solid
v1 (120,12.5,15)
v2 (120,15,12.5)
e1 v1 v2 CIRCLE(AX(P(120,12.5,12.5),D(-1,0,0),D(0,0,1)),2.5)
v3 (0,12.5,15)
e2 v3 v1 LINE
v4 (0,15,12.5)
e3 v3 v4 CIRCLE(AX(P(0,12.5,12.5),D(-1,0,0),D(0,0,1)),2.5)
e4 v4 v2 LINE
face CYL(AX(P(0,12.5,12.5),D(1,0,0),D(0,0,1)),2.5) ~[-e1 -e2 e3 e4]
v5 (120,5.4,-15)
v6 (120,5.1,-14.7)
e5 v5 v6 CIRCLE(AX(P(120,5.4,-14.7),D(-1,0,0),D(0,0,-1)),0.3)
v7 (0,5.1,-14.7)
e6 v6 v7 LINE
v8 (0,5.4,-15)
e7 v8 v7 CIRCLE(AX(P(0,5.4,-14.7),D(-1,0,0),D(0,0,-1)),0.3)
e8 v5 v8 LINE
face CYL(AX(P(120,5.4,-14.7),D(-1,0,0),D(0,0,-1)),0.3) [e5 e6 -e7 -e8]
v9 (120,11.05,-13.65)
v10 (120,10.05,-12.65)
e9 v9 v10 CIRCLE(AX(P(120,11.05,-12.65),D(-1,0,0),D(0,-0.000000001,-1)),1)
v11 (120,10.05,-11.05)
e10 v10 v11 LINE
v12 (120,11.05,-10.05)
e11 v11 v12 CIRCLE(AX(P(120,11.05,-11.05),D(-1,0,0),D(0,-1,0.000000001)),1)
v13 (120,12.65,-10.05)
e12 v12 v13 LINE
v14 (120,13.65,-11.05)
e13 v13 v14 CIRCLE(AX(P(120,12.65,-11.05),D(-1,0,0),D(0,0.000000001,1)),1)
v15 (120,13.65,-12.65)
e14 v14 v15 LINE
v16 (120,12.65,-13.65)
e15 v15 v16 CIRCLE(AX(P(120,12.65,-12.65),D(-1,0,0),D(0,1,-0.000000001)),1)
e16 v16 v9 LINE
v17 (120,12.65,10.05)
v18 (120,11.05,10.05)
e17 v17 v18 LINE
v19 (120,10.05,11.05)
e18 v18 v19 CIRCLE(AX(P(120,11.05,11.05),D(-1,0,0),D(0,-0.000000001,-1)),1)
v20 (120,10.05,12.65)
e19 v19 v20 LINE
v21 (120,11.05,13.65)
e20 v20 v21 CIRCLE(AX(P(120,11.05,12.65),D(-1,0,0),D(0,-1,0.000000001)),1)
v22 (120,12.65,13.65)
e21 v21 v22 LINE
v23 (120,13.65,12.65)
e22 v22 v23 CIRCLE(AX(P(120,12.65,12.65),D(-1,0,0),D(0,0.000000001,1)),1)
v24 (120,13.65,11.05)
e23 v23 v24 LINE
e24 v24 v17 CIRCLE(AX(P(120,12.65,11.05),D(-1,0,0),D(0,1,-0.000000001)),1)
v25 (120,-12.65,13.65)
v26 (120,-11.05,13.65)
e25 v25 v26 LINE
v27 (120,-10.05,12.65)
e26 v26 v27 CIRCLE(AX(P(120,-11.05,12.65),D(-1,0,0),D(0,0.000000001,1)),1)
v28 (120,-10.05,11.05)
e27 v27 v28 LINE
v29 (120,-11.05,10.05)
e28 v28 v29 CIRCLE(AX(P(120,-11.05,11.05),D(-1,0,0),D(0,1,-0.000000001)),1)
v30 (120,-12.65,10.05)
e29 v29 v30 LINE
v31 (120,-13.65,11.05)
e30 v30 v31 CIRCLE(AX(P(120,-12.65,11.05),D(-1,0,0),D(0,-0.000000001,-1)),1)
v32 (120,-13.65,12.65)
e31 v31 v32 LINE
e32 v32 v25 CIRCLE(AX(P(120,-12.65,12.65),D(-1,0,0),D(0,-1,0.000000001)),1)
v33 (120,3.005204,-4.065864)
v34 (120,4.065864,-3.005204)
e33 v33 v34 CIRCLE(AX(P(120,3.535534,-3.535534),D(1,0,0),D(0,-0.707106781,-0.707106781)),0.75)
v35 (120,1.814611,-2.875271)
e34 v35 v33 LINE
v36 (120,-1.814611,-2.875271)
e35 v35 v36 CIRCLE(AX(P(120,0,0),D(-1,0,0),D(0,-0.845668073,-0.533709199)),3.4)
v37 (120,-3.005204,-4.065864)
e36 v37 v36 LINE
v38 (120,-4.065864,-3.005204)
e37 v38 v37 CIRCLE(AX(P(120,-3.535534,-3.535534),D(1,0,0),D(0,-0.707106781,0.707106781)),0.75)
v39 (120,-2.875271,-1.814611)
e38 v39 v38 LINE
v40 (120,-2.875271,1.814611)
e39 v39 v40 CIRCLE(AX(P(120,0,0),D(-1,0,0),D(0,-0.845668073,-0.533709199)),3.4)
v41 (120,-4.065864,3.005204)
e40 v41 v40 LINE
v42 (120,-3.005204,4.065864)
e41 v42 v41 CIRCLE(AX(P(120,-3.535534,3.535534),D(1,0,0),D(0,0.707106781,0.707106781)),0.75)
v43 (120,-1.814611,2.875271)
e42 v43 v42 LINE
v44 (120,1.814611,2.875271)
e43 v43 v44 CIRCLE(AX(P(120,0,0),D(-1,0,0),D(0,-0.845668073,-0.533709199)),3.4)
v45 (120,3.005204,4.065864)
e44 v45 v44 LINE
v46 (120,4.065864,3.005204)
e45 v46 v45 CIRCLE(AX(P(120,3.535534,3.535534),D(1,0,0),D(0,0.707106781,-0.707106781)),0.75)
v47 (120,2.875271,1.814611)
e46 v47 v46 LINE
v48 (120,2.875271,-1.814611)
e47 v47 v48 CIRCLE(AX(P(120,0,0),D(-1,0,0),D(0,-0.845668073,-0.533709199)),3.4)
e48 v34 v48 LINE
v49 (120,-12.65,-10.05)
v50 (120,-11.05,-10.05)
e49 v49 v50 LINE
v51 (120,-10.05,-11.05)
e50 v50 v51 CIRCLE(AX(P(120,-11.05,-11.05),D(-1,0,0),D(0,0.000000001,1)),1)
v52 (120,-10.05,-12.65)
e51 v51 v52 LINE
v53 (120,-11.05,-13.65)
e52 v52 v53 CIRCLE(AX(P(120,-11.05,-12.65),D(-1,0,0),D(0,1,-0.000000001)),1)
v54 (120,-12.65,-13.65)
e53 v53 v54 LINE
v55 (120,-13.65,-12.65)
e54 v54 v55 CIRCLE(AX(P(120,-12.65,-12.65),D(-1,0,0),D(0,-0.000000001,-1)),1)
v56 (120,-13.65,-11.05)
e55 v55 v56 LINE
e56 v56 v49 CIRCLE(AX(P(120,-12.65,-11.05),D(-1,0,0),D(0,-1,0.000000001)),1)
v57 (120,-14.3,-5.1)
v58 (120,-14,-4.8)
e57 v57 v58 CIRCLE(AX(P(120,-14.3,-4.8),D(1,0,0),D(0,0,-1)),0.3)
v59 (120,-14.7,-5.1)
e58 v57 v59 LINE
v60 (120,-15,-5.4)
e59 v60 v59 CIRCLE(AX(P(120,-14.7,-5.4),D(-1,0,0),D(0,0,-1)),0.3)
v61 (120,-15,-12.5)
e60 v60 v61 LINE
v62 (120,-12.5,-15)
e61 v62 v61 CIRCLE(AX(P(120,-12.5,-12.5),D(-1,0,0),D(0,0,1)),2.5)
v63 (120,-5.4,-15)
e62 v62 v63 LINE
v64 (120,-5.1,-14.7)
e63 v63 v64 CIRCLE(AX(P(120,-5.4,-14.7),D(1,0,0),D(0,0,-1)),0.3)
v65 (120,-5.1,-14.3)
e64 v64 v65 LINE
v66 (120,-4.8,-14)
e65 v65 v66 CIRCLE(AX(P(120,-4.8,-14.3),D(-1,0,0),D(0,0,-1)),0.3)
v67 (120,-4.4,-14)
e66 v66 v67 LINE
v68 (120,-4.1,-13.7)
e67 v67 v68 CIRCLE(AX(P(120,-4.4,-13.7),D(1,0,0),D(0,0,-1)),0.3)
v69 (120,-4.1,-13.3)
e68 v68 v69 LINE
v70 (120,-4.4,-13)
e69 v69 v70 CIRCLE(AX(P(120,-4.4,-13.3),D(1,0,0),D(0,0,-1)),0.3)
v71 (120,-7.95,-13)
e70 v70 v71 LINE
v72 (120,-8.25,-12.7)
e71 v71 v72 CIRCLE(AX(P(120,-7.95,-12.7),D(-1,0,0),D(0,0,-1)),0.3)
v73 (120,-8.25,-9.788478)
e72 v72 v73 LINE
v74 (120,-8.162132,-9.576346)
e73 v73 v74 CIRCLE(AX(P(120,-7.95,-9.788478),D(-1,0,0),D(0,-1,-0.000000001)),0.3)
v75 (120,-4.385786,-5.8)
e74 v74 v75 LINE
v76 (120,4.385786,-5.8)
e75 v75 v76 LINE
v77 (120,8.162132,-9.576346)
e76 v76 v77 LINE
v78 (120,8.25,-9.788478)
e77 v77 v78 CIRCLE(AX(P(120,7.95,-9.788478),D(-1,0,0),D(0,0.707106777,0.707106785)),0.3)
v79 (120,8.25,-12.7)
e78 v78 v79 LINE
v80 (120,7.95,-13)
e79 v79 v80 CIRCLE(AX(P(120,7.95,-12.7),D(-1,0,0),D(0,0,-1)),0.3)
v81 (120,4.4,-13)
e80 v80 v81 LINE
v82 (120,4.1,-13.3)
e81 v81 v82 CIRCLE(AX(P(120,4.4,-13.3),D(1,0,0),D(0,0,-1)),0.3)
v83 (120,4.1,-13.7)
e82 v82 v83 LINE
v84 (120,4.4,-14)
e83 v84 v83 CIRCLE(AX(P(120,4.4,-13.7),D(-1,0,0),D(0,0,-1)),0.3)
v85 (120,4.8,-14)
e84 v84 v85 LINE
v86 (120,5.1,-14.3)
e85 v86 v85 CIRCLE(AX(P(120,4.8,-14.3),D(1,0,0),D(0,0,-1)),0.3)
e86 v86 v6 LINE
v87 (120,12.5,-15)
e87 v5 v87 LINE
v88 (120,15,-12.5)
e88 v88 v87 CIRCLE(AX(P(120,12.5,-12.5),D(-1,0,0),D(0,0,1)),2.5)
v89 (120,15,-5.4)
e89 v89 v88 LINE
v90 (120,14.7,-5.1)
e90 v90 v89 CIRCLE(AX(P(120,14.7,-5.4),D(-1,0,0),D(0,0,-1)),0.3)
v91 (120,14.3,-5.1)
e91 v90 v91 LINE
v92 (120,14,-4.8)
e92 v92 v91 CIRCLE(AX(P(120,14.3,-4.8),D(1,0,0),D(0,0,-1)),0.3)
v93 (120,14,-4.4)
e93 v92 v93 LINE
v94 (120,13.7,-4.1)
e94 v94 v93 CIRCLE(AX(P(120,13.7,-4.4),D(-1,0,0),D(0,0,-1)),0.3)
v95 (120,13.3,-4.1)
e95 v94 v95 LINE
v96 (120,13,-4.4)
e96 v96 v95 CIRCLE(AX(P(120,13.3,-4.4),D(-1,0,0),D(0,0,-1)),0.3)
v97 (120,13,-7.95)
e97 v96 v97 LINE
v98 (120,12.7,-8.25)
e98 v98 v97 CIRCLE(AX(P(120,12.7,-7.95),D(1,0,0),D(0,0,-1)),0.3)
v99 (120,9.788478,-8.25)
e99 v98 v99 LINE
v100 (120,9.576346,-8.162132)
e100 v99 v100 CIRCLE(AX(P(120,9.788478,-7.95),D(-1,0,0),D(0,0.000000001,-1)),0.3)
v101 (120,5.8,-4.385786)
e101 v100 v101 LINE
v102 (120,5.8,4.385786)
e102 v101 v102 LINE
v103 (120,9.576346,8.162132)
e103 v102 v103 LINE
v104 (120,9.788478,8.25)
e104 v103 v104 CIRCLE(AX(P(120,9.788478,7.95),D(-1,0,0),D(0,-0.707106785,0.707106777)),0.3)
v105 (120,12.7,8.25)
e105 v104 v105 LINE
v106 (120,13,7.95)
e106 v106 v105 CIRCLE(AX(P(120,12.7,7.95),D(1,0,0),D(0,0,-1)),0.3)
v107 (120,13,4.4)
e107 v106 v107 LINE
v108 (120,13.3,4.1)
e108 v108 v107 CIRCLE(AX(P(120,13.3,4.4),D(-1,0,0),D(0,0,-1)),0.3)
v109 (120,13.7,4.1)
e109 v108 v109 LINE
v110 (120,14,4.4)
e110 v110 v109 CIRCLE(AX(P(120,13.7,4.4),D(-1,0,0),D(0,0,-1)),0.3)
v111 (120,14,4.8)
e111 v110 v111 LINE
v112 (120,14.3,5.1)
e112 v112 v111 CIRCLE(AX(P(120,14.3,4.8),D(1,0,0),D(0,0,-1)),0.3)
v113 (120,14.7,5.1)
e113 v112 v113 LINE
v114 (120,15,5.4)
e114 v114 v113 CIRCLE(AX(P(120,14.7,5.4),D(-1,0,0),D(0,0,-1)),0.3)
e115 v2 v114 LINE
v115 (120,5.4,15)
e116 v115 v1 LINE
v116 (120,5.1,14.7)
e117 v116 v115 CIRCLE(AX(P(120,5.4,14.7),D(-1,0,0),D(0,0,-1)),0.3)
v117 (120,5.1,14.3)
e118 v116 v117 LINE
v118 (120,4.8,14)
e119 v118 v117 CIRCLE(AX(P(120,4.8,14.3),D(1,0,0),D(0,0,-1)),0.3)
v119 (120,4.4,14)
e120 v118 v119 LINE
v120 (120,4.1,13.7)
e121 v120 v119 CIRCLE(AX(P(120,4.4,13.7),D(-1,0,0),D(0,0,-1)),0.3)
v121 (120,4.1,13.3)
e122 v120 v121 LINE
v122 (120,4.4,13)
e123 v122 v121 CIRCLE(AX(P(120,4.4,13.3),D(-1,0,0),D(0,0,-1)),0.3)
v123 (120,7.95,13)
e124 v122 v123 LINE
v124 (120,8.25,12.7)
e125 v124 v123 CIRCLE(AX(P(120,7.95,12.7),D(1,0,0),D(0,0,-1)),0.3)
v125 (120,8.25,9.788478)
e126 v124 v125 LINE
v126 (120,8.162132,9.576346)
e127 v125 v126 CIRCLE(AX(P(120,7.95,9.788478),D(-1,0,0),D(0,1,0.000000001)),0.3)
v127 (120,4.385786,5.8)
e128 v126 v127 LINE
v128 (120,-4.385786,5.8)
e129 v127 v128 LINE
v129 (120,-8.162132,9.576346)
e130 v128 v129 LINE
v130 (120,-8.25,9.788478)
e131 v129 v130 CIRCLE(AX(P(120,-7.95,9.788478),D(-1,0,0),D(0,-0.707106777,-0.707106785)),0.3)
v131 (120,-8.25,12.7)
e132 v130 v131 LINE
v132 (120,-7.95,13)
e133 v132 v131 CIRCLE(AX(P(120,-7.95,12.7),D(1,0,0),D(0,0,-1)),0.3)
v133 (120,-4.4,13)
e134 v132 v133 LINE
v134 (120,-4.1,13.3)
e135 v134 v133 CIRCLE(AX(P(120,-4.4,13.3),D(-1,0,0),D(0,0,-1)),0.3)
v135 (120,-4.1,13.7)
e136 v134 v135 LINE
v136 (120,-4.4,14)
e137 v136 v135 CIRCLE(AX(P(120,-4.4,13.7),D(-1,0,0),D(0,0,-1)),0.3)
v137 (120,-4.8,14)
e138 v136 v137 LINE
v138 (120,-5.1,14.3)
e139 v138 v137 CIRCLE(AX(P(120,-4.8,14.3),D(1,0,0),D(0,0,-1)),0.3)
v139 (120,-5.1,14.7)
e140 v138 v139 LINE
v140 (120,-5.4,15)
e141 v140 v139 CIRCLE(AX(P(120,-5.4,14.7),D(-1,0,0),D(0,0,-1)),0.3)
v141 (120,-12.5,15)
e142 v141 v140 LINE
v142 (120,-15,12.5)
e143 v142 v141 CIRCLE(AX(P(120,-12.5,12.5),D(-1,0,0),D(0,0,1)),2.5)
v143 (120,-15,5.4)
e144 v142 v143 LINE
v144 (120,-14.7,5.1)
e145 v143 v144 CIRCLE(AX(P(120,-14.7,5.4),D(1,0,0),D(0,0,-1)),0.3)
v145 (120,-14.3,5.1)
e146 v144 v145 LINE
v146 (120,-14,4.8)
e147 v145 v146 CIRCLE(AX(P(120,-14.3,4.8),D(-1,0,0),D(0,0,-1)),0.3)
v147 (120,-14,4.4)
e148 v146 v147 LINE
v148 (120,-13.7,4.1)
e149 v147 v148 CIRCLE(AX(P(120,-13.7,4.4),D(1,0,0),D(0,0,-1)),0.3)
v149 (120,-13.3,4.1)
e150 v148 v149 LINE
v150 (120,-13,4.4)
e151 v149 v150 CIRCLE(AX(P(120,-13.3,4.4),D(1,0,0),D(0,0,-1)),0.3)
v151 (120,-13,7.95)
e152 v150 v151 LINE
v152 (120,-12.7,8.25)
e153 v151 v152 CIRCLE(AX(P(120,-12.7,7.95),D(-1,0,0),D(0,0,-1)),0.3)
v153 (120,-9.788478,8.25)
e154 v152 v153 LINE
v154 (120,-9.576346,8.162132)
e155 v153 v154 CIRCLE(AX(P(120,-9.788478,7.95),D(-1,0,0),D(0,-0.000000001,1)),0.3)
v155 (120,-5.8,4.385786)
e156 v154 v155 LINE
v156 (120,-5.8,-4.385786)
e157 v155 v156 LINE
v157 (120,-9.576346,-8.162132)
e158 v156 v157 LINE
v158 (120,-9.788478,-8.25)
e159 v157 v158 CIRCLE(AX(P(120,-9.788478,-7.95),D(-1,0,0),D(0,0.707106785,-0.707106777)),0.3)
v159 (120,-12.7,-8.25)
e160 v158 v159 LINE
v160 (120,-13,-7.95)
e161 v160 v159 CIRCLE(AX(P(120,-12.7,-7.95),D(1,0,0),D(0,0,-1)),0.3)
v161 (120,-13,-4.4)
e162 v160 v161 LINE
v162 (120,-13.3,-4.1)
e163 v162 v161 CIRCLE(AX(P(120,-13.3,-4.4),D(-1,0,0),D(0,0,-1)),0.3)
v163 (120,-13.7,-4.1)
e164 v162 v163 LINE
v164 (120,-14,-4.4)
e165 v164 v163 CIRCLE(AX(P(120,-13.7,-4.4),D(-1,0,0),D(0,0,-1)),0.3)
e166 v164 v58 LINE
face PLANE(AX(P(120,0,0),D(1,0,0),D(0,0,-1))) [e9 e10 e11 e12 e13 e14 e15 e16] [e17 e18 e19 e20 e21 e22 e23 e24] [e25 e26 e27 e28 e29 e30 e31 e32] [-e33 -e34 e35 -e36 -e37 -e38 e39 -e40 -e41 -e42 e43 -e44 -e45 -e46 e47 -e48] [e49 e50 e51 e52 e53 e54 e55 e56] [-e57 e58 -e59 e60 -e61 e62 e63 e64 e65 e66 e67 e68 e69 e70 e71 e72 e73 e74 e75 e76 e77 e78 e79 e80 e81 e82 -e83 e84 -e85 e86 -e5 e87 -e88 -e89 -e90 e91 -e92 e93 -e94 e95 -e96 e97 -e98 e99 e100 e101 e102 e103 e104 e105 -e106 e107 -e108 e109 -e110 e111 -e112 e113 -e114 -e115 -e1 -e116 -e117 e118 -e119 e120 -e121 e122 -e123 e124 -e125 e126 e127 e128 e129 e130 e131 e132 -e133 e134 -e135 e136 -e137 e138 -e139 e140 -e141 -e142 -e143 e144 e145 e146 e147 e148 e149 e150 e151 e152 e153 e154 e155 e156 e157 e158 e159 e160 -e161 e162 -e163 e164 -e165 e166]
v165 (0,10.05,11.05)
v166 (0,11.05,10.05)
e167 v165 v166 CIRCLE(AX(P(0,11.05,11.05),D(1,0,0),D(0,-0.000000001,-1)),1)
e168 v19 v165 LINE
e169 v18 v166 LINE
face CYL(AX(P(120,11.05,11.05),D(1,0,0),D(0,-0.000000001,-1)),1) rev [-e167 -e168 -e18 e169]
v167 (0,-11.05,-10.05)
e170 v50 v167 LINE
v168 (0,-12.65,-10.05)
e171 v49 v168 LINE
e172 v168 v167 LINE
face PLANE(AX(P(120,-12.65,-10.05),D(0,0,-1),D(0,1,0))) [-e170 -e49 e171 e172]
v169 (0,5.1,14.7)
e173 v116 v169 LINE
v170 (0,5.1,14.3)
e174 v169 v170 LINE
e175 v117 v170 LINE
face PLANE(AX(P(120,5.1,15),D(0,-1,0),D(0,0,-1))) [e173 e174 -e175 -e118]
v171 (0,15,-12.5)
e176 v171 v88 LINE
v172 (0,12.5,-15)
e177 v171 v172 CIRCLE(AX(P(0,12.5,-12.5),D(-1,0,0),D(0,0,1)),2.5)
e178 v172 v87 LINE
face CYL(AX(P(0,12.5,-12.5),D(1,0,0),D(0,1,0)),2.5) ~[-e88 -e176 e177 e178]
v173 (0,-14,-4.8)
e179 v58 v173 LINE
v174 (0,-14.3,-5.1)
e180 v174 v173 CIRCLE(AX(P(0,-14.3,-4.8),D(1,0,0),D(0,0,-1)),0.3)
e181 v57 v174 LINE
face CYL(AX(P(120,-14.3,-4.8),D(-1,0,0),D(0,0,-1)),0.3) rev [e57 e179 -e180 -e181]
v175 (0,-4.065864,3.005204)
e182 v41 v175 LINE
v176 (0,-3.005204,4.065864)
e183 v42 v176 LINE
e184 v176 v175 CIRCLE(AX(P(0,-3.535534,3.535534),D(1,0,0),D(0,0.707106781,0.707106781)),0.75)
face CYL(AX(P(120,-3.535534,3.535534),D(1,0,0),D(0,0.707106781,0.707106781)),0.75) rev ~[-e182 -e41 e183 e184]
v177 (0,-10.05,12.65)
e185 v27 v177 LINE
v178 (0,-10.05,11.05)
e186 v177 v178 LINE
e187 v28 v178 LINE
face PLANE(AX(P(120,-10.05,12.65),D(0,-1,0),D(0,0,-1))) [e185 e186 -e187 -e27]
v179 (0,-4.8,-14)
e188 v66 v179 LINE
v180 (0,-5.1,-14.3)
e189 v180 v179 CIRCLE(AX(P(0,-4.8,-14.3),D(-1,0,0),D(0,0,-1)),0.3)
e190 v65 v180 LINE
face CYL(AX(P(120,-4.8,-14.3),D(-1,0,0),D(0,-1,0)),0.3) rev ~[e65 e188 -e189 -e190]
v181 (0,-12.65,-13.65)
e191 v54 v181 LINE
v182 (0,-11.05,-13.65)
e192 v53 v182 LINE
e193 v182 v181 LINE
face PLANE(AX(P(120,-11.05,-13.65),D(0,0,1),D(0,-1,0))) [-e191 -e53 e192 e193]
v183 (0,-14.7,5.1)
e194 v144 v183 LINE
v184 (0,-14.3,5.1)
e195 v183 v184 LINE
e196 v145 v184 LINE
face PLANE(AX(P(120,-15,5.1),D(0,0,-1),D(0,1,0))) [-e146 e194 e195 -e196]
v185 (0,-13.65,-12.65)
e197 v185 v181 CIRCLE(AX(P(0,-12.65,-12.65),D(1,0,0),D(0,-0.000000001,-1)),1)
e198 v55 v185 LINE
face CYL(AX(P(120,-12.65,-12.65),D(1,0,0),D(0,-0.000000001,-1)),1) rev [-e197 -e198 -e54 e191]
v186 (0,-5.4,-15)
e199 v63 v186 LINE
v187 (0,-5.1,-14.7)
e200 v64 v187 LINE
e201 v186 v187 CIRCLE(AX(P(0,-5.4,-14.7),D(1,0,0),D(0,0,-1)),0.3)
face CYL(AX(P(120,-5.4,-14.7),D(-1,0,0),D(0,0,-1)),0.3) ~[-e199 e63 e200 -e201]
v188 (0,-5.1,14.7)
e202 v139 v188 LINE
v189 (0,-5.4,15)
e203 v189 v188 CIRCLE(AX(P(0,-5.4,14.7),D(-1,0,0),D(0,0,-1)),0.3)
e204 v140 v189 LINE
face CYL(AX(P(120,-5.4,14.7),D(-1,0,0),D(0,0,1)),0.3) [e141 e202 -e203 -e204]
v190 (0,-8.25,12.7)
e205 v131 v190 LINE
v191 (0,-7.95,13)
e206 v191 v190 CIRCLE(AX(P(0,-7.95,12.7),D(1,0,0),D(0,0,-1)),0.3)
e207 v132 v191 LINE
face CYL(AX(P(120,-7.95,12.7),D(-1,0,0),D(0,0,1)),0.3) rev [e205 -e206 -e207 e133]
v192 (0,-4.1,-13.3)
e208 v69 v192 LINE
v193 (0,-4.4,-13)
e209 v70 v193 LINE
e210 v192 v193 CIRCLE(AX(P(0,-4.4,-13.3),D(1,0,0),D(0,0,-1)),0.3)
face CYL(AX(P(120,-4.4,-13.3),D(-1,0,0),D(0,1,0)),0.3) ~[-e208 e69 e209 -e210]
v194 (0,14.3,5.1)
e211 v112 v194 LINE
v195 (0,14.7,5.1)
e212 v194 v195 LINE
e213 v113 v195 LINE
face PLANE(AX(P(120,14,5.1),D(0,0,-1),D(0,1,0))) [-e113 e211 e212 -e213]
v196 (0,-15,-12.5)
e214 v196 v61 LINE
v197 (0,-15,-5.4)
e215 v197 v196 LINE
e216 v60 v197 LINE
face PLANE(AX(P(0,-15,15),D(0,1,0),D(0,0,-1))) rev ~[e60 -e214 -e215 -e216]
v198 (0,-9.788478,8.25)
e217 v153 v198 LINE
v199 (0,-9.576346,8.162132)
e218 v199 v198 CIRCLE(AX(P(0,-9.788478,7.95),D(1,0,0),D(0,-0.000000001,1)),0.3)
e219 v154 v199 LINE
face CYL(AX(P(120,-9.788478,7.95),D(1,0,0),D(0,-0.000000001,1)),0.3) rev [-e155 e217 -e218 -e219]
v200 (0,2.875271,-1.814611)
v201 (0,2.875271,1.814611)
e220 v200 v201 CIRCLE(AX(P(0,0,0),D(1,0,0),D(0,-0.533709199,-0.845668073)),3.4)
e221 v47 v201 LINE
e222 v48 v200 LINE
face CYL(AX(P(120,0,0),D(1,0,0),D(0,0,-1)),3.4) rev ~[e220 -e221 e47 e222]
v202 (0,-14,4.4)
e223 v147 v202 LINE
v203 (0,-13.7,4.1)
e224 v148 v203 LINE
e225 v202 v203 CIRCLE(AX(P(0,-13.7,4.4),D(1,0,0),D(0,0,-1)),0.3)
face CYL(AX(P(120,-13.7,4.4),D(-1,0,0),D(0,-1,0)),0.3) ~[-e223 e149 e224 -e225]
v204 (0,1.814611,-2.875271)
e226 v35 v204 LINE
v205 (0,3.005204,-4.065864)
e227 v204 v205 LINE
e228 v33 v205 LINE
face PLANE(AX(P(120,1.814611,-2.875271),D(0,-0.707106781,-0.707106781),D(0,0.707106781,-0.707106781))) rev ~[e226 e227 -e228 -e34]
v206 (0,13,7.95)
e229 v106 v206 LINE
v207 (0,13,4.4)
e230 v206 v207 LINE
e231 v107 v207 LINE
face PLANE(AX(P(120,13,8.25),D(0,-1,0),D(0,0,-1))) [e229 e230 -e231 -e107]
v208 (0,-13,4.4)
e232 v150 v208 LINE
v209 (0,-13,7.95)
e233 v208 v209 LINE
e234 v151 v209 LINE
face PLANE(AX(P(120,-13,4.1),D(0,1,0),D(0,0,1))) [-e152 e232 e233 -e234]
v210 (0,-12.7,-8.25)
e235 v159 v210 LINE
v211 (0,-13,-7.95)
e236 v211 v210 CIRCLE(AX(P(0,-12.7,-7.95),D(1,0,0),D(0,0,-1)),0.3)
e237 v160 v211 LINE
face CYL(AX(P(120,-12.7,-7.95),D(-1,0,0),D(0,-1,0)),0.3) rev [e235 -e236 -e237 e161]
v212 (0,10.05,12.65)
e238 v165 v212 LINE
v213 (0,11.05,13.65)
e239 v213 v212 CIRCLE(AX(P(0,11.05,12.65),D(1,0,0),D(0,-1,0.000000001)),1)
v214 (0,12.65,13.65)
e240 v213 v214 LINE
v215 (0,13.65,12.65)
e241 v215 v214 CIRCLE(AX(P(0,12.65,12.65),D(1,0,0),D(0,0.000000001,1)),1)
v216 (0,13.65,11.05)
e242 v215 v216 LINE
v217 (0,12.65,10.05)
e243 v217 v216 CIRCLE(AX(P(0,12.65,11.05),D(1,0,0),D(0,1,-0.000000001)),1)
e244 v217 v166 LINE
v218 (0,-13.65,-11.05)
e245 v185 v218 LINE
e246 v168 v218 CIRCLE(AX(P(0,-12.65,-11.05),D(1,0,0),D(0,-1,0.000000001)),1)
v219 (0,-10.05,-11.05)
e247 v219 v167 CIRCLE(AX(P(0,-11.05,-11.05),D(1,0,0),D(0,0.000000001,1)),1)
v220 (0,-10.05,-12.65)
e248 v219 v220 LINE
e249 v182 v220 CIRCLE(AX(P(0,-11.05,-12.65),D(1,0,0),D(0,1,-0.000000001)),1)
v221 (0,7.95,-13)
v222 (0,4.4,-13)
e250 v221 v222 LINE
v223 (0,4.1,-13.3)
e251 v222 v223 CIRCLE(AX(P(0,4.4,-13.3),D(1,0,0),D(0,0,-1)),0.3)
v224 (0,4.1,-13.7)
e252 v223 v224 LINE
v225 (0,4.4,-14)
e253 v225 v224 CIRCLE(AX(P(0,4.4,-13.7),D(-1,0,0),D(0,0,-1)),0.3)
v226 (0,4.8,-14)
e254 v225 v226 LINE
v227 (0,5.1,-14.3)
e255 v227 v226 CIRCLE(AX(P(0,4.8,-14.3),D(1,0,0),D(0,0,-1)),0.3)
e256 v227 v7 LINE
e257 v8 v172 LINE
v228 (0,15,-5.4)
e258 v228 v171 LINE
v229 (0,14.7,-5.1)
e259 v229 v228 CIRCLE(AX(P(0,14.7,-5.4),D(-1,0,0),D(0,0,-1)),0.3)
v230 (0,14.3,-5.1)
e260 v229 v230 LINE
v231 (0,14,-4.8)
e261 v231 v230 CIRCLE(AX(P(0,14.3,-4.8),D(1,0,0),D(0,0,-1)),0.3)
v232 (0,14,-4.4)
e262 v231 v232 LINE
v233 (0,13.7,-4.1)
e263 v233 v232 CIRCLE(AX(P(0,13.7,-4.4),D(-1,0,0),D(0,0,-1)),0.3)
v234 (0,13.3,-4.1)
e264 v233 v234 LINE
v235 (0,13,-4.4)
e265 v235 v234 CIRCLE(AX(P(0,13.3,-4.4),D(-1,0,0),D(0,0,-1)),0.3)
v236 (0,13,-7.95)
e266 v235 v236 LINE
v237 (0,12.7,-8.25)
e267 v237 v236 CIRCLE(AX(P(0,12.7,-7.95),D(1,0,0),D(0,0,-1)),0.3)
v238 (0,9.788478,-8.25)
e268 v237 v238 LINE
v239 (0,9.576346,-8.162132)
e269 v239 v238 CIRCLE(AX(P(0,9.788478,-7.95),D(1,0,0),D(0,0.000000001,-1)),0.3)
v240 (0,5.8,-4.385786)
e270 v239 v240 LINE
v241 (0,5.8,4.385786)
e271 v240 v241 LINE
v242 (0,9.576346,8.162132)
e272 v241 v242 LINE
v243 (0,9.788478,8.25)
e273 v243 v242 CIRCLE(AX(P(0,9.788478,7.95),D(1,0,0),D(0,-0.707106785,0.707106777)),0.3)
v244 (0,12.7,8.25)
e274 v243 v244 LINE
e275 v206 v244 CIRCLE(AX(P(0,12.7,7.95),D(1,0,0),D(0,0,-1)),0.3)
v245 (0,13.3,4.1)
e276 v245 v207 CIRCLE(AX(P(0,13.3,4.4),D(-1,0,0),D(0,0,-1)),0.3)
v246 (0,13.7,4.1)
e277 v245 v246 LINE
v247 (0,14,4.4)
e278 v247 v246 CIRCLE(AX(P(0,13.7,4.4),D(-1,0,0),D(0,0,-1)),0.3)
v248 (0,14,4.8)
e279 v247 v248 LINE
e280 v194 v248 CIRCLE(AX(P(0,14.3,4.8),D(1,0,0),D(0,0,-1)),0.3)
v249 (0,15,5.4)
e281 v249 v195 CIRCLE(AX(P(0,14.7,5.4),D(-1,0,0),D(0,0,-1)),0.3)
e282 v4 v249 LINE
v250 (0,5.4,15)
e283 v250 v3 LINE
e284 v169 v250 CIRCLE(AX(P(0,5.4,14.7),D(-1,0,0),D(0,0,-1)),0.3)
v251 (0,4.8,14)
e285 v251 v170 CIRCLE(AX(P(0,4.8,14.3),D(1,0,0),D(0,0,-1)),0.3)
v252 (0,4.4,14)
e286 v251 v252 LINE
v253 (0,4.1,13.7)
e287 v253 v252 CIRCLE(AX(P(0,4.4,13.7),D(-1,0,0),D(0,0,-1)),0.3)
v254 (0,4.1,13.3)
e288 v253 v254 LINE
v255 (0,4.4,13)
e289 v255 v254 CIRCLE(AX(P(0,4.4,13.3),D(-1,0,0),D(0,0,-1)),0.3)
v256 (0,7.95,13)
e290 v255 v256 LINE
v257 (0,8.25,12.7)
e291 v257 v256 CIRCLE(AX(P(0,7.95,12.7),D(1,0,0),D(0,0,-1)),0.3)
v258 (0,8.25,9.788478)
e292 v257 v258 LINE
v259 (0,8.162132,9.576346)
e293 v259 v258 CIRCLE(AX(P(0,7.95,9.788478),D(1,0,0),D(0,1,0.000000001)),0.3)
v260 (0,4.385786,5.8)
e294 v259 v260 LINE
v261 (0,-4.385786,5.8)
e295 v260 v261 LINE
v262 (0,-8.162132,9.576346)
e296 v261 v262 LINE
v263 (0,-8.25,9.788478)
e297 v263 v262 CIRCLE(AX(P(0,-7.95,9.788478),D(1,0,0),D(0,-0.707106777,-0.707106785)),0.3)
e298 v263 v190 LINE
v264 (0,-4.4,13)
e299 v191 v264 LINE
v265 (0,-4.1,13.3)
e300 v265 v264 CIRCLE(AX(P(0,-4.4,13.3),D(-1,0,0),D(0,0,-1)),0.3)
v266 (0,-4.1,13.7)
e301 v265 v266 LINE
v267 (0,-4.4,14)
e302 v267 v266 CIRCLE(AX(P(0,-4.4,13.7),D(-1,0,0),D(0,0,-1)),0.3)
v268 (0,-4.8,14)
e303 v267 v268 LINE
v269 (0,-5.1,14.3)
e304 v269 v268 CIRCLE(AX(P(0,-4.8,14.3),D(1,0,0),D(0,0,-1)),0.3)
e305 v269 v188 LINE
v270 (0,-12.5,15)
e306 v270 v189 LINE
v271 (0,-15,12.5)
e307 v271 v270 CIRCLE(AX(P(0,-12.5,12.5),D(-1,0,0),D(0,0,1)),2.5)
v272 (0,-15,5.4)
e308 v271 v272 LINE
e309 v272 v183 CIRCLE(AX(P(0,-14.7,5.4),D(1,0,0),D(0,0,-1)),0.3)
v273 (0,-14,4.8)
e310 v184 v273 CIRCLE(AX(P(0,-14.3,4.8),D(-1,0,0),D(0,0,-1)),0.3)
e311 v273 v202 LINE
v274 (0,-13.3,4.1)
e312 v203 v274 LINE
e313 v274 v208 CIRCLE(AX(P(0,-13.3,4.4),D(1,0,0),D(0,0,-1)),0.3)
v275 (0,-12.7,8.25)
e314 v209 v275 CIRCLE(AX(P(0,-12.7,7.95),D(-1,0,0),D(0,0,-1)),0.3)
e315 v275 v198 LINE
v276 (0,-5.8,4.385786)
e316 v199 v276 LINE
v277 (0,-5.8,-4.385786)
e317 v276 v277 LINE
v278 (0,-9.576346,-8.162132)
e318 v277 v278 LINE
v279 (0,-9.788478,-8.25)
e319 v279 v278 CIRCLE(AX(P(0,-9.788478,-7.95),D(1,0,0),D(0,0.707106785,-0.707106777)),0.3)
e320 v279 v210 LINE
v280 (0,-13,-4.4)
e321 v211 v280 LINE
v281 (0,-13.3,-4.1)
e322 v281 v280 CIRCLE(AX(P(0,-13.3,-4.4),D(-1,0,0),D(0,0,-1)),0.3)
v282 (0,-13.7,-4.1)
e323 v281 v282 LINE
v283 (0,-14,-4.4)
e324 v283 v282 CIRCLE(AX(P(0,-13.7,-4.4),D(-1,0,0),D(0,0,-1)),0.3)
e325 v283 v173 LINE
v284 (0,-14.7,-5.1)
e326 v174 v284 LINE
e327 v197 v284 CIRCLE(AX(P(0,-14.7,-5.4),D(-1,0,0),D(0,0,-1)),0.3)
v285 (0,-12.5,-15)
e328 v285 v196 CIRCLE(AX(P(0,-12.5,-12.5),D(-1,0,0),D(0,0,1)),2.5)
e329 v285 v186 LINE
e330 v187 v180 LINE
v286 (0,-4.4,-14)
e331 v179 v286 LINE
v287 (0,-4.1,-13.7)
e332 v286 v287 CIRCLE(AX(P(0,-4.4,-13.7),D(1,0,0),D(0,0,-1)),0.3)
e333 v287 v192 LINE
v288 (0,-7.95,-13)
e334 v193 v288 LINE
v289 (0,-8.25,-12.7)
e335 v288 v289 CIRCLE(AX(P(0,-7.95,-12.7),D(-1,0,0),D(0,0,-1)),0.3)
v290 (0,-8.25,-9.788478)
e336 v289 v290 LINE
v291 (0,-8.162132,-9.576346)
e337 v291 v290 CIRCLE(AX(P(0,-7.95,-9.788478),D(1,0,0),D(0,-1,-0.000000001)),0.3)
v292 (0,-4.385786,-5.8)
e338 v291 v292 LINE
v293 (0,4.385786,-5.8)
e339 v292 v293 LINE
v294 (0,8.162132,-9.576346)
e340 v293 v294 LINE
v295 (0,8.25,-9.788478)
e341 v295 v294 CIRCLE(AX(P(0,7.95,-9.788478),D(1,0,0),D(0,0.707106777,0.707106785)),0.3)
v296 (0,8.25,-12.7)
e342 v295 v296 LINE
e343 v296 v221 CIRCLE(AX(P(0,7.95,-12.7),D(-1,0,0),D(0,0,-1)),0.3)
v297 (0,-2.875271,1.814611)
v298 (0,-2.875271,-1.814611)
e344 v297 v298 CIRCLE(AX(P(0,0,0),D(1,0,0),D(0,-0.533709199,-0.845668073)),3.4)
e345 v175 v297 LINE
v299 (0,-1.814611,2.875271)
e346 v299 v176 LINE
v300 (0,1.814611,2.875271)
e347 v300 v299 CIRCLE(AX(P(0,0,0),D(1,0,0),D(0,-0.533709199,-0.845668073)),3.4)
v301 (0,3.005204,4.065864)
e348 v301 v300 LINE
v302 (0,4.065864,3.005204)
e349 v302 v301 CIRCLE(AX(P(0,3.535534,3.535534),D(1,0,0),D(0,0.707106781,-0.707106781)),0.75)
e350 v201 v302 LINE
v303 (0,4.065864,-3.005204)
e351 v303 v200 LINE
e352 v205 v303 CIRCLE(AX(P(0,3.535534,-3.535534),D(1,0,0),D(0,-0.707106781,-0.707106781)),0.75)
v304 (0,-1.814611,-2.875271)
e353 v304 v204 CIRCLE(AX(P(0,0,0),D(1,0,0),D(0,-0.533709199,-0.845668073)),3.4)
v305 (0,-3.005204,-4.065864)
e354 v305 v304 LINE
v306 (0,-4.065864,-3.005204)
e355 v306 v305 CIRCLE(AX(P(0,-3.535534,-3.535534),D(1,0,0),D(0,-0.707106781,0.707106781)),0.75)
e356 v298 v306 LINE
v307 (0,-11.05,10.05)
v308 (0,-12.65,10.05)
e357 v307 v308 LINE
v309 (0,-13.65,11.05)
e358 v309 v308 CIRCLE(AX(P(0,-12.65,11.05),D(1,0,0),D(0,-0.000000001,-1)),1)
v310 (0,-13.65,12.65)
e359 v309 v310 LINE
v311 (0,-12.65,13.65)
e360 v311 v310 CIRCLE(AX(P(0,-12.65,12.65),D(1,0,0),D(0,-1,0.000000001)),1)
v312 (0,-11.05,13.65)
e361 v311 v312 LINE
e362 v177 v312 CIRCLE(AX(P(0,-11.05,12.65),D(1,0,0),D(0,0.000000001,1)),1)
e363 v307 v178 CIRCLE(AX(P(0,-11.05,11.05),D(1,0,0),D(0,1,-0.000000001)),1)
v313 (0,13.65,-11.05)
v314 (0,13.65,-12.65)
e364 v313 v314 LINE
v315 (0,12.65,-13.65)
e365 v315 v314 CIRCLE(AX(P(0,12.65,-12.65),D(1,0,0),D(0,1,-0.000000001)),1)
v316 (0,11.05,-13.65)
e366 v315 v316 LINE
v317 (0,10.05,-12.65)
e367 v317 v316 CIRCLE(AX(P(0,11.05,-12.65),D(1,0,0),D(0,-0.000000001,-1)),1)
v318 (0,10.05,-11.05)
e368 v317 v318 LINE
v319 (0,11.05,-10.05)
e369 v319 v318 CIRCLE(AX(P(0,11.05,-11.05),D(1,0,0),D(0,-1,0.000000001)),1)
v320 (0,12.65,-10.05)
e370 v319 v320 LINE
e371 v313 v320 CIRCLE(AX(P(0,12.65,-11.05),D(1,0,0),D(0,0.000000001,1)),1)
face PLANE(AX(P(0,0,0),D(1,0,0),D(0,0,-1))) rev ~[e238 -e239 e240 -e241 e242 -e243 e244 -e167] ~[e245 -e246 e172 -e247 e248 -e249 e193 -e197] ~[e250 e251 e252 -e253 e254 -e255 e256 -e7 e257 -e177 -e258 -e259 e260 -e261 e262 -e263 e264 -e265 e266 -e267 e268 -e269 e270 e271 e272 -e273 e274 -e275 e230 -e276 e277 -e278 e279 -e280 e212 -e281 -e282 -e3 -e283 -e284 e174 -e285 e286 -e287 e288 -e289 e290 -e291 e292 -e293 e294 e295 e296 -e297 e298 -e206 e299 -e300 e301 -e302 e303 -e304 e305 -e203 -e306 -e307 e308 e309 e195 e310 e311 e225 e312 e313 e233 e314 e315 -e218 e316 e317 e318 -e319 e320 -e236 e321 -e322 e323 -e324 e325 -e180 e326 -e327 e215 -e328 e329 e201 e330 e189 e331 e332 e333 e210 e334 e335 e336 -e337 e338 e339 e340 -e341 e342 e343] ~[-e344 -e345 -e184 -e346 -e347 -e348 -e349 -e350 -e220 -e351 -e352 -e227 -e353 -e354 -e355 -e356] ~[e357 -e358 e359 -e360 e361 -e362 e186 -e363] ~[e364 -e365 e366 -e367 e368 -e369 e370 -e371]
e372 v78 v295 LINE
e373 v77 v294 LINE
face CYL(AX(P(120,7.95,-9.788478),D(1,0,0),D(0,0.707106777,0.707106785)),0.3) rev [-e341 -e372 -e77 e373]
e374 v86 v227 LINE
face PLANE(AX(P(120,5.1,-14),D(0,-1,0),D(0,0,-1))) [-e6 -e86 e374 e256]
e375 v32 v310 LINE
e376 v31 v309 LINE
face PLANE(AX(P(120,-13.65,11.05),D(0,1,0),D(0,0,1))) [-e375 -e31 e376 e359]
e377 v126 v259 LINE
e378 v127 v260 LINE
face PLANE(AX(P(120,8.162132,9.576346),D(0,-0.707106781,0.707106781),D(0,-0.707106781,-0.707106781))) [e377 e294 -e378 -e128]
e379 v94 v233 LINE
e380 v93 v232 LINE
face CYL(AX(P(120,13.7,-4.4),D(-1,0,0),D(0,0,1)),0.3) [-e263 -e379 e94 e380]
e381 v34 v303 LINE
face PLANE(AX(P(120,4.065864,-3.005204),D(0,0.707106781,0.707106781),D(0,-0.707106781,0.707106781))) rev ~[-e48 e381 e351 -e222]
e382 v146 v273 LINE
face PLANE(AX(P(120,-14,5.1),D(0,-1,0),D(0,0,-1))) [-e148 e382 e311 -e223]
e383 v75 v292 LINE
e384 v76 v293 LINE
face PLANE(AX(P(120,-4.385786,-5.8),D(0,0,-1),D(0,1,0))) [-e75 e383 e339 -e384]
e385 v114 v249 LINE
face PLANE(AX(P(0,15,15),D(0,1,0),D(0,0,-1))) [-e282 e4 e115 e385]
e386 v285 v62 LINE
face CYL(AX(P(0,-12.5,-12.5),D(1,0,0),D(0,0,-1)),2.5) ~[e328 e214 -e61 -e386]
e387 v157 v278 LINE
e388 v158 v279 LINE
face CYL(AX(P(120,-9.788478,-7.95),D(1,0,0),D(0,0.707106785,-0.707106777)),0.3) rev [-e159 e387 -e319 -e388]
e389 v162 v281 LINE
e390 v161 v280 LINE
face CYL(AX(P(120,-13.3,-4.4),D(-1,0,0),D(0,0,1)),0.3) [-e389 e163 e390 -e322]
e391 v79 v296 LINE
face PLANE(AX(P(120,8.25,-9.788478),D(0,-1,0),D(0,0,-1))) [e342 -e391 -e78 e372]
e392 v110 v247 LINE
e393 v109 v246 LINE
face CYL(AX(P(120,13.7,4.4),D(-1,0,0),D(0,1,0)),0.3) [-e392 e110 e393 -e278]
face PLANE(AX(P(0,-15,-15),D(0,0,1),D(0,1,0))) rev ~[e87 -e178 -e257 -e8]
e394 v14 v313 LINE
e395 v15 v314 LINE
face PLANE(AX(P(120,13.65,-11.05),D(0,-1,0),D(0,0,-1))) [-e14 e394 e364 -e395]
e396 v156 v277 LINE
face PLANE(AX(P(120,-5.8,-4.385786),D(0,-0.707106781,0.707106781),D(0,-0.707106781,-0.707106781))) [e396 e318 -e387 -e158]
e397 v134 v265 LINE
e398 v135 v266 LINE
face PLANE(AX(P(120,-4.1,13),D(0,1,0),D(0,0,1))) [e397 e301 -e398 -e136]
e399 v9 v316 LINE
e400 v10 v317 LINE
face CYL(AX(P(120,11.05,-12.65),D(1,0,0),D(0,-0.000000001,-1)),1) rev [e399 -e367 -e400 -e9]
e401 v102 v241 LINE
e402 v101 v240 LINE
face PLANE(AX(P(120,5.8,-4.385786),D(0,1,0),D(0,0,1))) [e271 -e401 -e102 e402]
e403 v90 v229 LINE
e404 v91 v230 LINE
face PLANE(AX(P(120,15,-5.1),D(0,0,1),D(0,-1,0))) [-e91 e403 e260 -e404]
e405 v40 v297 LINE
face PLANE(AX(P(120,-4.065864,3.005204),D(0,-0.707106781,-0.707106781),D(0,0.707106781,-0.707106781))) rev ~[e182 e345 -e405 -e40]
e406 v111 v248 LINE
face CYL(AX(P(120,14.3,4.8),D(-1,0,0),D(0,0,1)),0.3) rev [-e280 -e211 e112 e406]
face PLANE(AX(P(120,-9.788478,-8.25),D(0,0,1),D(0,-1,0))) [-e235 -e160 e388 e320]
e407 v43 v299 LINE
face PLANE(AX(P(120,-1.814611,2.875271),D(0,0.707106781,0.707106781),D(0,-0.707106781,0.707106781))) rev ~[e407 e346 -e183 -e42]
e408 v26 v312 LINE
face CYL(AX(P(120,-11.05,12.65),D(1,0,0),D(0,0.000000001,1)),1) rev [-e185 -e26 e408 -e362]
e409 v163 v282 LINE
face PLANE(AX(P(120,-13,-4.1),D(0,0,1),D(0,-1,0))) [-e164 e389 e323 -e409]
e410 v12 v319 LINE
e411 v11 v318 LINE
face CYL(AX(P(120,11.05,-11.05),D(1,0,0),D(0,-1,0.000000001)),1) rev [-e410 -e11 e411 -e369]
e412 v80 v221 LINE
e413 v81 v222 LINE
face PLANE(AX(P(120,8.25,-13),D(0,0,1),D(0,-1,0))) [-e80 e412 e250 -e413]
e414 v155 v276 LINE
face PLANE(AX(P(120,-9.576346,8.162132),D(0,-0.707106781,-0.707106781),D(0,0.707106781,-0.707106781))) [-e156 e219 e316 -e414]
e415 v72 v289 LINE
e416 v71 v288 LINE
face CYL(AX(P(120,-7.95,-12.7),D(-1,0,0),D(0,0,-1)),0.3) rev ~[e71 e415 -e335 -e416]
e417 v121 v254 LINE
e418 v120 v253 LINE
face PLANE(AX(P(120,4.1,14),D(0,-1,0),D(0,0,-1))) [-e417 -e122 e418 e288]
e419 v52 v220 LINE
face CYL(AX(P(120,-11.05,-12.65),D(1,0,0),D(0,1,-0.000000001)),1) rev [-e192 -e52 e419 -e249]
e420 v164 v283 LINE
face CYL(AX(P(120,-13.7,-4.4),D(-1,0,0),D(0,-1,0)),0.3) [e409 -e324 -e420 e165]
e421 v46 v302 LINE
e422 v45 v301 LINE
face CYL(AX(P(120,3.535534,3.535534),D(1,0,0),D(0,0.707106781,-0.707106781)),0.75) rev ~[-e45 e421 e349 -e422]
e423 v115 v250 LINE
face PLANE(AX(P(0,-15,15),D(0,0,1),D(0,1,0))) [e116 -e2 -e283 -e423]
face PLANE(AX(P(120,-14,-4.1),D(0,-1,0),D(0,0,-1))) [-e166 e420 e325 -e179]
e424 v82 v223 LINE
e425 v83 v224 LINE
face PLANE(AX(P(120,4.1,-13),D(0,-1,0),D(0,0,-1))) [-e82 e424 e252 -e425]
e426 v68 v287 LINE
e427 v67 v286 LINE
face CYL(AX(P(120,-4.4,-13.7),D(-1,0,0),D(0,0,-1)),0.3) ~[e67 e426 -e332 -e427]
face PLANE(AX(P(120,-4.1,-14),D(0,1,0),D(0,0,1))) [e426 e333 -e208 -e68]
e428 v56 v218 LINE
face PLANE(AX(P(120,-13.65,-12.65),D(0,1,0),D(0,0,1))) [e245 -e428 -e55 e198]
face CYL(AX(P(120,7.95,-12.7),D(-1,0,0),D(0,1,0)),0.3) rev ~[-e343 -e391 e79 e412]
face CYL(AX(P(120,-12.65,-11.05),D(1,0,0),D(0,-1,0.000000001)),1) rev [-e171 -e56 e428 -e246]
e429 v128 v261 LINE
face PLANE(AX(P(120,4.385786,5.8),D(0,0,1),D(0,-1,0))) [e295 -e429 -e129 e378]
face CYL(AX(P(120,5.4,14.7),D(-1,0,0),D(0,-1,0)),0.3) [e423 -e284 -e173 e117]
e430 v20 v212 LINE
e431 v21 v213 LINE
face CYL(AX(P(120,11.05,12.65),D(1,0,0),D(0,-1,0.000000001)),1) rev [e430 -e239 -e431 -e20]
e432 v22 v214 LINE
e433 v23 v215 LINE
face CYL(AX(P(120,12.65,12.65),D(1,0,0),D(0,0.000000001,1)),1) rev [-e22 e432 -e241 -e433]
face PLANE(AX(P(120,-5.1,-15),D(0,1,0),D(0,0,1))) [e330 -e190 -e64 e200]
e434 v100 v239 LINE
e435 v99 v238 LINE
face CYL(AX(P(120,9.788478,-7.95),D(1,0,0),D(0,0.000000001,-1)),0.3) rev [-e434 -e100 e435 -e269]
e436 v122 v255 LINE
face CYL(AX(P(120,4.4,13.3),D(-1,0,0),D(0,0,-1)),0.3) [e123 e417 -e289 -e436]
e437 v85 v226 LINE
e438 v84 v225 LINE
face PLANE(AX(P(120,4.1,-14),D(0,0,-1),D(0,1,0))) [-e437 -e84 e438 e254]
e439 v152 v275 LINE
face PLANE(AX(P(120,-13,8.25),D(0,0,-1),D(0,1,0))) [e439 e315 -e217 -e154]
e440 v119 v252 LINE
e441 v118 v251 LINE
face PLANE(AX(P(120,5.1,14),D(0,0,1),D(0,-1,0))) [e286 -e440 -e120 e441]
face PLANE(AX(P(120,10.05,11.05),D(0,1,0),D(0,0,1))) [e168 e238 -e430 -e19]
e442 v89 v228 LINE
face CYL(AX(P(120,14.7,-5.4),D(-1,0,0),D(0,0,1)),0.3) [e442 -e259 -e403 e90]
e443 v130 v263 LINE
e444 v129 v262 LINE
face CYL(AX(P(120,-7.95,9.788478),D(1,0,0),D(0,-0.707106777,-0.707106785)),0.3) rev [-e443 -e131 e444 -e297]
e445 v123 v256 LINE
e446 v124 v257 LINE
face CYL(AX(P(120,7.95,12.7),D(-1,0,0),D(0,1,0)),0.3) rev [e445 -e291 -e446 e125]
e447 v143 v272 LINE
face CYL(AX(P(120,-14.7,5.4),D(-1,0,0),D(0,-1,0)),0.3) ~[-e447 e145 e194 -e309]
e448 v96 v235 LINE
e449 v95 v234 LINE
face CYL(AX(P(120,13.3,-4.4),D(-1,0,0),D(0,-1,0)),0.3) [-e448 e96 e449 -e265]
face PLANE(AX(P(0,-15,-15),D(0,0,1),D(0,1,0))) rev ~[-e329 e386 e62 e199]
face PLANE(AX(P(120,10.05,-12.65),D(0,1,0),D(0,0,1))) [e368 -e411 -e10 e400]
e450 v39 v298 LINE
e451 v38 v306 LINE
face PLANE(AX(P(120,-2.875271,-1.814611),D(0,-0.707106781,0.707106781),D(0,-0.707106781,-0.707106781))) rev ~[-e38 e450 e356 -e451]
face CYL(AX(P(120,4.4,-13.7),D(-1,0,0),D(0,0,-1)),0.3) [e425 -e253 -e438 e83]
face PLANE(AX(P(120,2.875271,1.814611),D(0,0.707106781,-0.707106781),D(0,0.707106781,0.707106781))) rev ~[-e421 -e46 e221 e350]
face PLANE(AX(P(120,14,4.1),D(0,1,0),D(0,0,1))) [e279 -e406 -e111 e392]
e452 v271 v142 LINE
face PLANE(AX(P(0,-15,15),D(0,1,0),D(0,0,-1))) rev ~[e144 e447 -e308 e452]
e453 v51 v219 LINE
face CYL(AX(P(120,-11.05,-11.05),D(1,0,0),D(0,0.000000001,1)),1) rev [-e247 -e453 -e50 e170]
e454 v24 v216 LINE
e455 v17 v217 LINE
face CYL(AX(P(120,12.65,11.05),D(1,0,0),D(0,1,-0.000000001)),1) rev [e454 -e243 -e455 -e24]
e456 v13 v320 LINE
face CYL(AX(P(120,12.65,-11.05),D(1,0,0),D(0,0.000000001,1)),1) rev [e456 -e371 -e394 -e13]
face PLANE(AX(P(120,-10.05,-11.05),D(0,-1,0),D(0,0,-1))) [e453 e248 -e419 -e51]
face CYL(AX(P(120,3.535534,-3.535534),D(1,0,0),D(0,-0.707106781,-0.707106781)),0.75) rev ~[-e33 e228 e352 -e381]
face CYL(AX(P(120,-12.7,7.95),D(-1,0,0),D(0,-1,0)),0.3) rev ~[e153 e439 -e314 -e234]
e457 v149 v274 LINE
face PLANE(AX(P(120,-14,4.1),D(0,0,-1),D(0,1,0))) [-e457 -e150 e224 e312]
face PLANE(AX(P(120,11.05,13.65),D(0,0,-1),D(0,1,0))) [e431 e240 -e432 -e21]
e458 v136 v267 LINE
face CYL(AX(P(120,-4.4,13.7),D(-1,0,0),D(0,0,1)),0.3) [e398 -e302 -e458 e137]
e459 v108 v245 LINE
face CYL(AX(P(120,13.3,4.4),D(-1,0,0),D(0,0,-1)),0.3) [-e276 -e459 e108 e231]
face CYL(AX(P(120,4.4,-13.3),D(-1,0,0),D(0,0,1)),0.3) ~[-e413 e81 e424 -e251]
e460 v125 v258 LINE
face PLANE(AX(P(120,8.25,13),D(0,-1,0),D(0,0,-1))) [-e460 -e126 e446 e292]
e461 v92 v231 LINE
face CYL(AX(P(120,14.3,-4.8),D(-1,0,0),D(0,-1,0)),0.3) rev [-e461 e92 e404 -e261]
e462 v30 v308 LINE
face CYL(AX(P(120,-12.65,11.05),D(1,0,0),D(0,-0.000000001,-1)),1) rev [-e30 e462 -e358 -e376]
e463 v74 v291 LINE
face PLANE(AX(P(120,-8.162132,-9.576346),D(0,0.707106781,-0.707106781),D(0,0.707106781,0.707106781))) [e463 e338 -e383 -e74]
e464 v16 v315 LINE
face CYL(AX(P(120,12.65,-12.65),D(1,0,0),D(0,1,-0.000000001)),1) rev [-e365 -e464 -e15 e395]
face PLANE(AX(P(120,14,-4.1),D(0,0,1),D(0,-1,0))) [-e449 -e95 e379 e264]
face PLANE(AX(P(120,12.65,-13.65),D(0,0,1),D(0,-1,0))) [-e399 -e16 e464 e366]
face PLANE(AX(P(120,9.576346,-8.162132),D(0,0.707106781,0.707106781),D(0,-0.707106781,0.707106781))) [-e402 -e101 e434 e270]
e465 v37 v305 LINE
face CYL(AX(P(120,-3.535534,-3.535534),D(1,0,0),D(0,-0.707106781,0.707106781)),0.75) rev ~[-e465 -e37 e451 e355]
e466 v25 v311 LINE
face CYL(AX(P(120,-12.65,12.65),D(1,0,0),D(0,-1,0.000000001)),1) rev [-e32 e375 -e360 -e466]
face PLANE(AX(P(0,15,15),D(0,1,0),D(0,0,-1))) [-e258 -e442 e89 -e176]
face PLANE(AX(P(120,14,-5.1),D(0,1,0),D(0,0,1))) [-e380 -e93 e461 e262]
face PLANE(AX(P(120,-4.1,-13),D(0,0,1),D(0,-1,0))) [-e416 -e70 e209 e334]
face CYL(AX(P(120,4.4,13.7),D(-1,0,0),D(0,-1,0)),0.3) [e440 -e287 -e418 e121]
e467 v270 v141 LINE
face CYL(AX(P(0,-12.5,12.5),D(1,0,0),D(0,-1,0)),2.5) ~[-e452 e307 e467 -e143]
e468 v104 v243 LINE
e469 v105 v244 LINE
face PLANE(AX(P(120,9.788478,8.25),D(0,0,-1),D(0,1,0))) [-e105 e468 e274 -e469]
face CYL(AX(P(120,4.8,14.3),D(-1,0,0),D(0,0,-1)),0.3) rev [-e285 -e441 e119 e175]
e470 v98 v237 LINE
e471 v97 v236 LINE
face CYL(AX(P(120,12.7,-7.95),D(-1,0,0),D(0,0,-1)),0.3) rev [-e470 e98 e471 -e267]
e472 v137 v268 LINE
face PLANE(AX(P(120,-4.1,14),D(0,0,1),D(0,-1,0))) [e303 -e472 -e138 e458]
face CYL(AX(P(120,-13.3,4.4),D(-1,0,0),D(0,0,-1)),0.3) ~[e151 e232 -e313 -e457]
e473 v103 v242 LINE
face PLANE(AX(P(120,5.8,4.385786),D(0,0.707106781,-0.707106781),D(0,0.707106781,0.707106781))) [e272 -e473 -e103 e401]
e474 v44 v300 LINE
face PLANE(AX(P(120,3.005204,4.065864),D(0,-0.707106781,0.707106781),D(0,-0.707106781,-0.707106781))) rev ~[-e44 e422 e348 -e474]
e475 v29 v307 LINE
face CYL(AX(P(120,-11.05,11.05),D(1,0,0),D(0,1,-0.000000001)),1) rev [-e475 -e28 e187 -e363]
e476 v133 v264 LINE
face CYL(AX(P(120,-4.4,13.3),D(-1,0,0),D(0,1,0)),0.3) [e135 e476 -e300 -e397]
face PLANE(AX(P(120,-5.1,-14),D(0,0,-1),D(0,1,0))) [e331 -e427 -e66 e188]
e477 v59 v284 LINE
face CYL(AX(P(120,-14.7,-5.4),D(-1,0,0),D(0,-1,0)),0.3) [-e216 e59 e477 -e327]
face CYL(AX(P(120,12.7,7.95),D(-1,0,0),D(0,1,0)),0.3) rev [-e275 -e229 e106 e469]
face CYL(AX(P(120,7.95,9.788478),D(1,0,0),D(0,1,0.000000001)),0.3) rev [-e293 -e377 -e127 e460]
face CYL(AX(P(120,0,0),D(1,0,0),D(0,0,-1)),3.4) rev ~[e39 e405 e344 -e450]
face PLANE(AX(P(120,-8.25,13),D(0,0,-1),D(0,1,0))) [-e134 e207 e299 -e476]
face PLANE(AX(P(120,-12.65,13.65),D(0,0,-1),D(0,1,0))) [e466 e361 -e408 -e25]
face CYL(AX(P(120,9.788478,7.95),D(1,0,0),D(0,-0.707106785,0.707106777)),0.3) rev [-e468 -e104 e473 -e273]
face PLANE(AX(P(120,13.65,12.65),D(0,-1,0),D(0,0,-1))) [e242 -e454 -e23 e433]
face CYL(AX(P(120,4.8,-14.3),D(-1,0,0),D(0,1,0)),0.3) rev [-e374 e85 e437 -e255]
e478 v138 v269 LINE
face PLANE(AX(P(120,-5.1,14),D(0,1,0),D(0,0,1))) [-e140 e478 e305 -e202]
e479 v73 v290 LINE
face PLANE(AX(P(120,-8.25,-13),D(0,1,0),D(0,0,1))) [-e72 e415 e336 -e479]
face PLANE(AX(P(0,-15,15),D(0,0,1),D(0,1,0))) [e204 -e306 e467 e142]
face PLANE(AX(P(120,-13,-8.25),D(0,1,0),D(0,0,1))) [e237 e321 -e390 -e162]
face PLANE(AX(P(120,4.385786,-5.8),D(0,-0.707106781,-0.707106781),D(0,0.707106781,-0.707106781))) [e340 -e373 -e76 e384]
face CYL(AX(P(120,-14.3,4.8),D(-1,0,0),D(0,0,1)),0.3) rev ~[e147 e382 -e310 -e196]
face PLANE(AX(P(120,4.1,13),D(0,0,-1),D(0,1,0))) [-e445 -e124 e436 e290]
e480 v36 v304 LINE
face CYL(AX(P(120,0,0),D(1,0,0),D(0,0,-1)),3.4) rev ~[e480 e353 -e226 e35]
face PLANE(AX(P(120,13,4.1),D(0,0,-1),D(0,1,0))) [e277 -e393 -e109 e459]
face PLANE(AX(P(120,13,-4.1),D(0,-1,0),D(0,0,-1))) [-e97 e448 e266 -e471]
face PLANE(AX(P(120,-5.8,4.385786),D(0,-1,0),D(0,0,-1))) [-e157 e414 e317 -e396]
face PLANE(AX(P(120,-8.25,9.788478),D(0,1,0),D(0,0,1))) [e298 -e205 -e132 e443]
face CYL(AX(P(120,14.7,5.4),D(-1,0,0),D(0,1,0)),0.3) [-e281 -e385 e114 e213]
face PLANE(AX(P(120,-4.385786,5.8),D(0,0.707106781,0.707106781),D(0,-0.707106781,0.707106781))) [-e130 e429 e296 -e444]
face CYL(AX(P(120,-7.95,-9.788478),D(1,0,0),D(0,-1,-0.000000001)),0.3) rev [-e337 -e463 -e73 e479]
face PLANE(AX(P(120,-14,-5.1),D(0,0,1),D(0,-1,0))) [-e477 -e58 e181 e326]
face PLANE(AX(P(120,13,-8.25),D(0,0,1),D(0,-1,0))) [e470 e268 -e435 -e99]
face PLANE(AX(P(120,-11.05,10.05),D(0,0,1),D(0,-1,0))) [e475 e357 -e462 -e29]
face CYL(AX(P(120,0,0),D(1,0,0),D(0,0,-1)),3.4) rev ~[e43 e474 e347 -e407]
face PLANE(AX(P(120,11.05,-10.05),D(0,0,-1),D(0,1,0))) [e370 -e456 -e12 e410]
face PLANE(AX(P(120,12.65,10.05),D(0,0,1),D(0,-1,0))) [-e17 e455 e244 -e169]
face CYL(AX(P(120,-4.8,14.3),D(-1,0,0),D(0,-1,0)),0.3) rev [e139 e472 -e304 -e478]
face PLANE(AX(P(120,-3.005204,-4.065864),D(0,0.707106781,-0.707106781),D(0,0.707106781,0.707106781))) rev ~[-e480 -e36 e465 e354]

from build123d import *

# Parameters (mm, degrees)
SKETCH2_W                = 30
SKETCH2_H                = 30
BOSS_EXTRUDE1_DEPTH      = 120
SKETCH5_R                = 3.4
CUT_EXTRUDE2_DEPTH       = 122.86057607
CUT_EXTRUDE1_DEPTH       = 122.86057607
FILLET1_R                = 2.5
FILLET2_R                = 0.3
CIRPATTERN1_COUNT        = 4
FILLET1_OF_CIRPATTERN1_R = 2.5
FILLET2_OF_CIRPATTERN1_R = 0.3


with BuildPart() as part:
    # Sketch2 → Boss-Extrude1 (new body)
    with BuildSketch(Plane(origin=(0, 0, 0), x_dir=(0, 0, -1), z_dir=(1, 0, 0))):
        Rectangle(SKETCH2_W, SKETCH2_H)
    extrude(amount=BOSS_EXTRUDE1_DEPTH)

    # Sketch5 → Cut-Extrude2 (cut, through all)
    with BuildSketch(Plane(origin=(120, 0, 0), x_dir=(0, 0, -1), z_dir=(1, 0, 0))):
        Circle(SKETCH5_R)
    extrude(amount=-CUT_EXTRUDE2_DEPTH, mode=Mode.SUBTRACT)

    # Sketch4 → Cut-Extrude1 (cut, through all)
    with BuildSketch(Plane(origin=(120, 0, 0), x_dir=(0, 0, -1), z_dir=(1, 0, 0))):
        with BuildLine():
            Line((-4.385786454, -5.8), (4.385786454, -5.8))
            Line((4.385786454, -5.8), (8.162132034, -9.57634558))
            ThreePointArc((8.162132034, -9.57634558), (8.22716386, -9.673672585), (8.25, -9.788477614))
            Line((8.25, -9.788477614), (8.25, -13))
            Line((8.25, -13), (4.1, -13))
            Line((4.1, -13), (4.1, -14))
            Line((4.1, -14), (5.1, -14))
            Line((5.1, -14), (5.1, -15))
            Line((5.1, -15), (-5.1, -15))
            Line((-5.1, -15), (-5.1, -14))
            Line((-5.1, -14), (-4.1, -14))
            Line((-4.1, -14), (-4.1, -13))
            Line((-4.1, -13), (-8.25, -13))
            Line((-8.25, -13), (-8.25, -9.788477614))
            ThreePointArc((-8.25, -9.788477614), (-8.22716386, -9.673672585), (-8.162132034, -9.57634558))
            Line((-8.162132034, -9.57634558), (-4.385786454, -5.8))
        make_face()
        with BuildLine():
            Line((11.05, -10.05), (12.65, -10.05))
            ThreePointArc((12.65, -10.05), (13.357106781, -10.342893219), (13.65, -11.05))
            Line((13.65, -11.05), (13.65, -12.65))
            ThreePointArc((13.65, -12.65), (13.357106781, -13.357106781), (12.65, -13.65))
            Line((12.65, -13.65), (11.05, -13.65))
            ThreePointArc((11.05, -13.65), (10.342893219, -13.357106781), (10.05, -12.65))
            Line((10.05, -12.65), (10.05, -11.05))
            ThreePointArc((10.05, -11.05), (10.342893219, -10.342893219), (11.05, -10.05))
        make_face()
        with BuildLine():
            Line((4.065863992, -3.00520382), (2.87527145, -1.814611278))
            ThreePointArc((2.87527145, -1.814611278), (2.404163056, -2.404163056), (1.814611278, -2.87527145))
            Line((1.814611278, -2.87527145), (3.00520382, -4.065863992))
            ThreePointArc((3.00520382, -4.065863992), (4.065863992, -4.065863992), (4.065863992, -3.00520382))
        make_face()
    cut_extrude1 = extrude(amount=-CUT_EXTRUDE1_DEPTH, mode=Mode.SUBTRACT)

    # Fillet1
    fillet1_edges = [part.edges().sort_by_distance(p)[0] for p in [
        (60, -15, -15),
    ]]
    fillet(fillet1_edges, radius=FILLET1_R)

    # Fillet2
    fillet2_edges = [part.edges().sort_by_distance(p)[0] for p in [
        (60, -13, -8.25),
        (60, -13, -4.1),
        (60, -14, -4.1),
        (60, -14, -5.1),
        (60, -15, -5.1),
        (60, -15, 5.1),
        (60, -14, 5.1),
        (60, -14, 4.1),
        (60, -13, 4.1),
        (60, -13, 8.25),
    ]]
    fillet(fillet2_edges, radius=FILLET2_R)

    # CirPattern1: Cut-Extrude1 ×4 about axis
    cirpattern1_axis = Axis((0, 0, 0), (1, 0, 0))
    for i in range(1, CIRPATTERN1_COUNT):
        add(cut_extrude1.rotate(cirpattern1_axis, i * 360 / CIRPATTERN1_COUNT), mode=Mode.SUBTRACT)

    # Fillet1 of CirPattern1
    fillet1_of_cirpattern1_edges = [part.edges().sort_by_distance(p)[0] for p in [
        (60, 15, -15),
        (60, 15, 15),
        (60, -15, 15),
    ]]
    fillet(fillet1_of_cirpattern1_edges, radius=FILLET1_OF_CIRPATTERN1_R)

    # Fillet2 of CirPattern1
    fillet2_of_cirpattern1_edges = [part.edges().sort_by_distance(p)[0] for p in [
        (60, 8.25, -13),
        (60, 4.1, -13),
        (60, 4.1, -14),
        (60, 5.1, -14),
        (60, 5.1, -15),
        (60, -5.1, -15),
        (60, -5.1, -14),
        (60, -4.1, -14),
        (60, -4.1, -13),
        (60, -8.25, -13),
        (60, 13, 8.25),
        (60, 13, 4.1),
        (60, 14, 4.1),
        (60, 14, 5.1),
        (60, 15, 5.1),
        (60, 15, -5.1),
        (60, 14, -5.1),
        (60, 14, -4.1),
        (60, 13, -4.1),
        (60, 13, -8.25),
        (60, -8.25, 13),
        (60, -4.1, 13),
        (60, -4.1, 14),
        (60, -5.1, 14),
        (60, -5.1, 15),
        (60, 5.1, 15),
        (60, 5.1, 14),
        (60, 4.1, 14),
        (60, 4.1, 13),
        (60, 8.25, 13),
    ]]
    fillet(fillet2_of_cirpattern1_edges, radius=FILLET2_OF_CIRPATTERN1_R)


solid = part.part
